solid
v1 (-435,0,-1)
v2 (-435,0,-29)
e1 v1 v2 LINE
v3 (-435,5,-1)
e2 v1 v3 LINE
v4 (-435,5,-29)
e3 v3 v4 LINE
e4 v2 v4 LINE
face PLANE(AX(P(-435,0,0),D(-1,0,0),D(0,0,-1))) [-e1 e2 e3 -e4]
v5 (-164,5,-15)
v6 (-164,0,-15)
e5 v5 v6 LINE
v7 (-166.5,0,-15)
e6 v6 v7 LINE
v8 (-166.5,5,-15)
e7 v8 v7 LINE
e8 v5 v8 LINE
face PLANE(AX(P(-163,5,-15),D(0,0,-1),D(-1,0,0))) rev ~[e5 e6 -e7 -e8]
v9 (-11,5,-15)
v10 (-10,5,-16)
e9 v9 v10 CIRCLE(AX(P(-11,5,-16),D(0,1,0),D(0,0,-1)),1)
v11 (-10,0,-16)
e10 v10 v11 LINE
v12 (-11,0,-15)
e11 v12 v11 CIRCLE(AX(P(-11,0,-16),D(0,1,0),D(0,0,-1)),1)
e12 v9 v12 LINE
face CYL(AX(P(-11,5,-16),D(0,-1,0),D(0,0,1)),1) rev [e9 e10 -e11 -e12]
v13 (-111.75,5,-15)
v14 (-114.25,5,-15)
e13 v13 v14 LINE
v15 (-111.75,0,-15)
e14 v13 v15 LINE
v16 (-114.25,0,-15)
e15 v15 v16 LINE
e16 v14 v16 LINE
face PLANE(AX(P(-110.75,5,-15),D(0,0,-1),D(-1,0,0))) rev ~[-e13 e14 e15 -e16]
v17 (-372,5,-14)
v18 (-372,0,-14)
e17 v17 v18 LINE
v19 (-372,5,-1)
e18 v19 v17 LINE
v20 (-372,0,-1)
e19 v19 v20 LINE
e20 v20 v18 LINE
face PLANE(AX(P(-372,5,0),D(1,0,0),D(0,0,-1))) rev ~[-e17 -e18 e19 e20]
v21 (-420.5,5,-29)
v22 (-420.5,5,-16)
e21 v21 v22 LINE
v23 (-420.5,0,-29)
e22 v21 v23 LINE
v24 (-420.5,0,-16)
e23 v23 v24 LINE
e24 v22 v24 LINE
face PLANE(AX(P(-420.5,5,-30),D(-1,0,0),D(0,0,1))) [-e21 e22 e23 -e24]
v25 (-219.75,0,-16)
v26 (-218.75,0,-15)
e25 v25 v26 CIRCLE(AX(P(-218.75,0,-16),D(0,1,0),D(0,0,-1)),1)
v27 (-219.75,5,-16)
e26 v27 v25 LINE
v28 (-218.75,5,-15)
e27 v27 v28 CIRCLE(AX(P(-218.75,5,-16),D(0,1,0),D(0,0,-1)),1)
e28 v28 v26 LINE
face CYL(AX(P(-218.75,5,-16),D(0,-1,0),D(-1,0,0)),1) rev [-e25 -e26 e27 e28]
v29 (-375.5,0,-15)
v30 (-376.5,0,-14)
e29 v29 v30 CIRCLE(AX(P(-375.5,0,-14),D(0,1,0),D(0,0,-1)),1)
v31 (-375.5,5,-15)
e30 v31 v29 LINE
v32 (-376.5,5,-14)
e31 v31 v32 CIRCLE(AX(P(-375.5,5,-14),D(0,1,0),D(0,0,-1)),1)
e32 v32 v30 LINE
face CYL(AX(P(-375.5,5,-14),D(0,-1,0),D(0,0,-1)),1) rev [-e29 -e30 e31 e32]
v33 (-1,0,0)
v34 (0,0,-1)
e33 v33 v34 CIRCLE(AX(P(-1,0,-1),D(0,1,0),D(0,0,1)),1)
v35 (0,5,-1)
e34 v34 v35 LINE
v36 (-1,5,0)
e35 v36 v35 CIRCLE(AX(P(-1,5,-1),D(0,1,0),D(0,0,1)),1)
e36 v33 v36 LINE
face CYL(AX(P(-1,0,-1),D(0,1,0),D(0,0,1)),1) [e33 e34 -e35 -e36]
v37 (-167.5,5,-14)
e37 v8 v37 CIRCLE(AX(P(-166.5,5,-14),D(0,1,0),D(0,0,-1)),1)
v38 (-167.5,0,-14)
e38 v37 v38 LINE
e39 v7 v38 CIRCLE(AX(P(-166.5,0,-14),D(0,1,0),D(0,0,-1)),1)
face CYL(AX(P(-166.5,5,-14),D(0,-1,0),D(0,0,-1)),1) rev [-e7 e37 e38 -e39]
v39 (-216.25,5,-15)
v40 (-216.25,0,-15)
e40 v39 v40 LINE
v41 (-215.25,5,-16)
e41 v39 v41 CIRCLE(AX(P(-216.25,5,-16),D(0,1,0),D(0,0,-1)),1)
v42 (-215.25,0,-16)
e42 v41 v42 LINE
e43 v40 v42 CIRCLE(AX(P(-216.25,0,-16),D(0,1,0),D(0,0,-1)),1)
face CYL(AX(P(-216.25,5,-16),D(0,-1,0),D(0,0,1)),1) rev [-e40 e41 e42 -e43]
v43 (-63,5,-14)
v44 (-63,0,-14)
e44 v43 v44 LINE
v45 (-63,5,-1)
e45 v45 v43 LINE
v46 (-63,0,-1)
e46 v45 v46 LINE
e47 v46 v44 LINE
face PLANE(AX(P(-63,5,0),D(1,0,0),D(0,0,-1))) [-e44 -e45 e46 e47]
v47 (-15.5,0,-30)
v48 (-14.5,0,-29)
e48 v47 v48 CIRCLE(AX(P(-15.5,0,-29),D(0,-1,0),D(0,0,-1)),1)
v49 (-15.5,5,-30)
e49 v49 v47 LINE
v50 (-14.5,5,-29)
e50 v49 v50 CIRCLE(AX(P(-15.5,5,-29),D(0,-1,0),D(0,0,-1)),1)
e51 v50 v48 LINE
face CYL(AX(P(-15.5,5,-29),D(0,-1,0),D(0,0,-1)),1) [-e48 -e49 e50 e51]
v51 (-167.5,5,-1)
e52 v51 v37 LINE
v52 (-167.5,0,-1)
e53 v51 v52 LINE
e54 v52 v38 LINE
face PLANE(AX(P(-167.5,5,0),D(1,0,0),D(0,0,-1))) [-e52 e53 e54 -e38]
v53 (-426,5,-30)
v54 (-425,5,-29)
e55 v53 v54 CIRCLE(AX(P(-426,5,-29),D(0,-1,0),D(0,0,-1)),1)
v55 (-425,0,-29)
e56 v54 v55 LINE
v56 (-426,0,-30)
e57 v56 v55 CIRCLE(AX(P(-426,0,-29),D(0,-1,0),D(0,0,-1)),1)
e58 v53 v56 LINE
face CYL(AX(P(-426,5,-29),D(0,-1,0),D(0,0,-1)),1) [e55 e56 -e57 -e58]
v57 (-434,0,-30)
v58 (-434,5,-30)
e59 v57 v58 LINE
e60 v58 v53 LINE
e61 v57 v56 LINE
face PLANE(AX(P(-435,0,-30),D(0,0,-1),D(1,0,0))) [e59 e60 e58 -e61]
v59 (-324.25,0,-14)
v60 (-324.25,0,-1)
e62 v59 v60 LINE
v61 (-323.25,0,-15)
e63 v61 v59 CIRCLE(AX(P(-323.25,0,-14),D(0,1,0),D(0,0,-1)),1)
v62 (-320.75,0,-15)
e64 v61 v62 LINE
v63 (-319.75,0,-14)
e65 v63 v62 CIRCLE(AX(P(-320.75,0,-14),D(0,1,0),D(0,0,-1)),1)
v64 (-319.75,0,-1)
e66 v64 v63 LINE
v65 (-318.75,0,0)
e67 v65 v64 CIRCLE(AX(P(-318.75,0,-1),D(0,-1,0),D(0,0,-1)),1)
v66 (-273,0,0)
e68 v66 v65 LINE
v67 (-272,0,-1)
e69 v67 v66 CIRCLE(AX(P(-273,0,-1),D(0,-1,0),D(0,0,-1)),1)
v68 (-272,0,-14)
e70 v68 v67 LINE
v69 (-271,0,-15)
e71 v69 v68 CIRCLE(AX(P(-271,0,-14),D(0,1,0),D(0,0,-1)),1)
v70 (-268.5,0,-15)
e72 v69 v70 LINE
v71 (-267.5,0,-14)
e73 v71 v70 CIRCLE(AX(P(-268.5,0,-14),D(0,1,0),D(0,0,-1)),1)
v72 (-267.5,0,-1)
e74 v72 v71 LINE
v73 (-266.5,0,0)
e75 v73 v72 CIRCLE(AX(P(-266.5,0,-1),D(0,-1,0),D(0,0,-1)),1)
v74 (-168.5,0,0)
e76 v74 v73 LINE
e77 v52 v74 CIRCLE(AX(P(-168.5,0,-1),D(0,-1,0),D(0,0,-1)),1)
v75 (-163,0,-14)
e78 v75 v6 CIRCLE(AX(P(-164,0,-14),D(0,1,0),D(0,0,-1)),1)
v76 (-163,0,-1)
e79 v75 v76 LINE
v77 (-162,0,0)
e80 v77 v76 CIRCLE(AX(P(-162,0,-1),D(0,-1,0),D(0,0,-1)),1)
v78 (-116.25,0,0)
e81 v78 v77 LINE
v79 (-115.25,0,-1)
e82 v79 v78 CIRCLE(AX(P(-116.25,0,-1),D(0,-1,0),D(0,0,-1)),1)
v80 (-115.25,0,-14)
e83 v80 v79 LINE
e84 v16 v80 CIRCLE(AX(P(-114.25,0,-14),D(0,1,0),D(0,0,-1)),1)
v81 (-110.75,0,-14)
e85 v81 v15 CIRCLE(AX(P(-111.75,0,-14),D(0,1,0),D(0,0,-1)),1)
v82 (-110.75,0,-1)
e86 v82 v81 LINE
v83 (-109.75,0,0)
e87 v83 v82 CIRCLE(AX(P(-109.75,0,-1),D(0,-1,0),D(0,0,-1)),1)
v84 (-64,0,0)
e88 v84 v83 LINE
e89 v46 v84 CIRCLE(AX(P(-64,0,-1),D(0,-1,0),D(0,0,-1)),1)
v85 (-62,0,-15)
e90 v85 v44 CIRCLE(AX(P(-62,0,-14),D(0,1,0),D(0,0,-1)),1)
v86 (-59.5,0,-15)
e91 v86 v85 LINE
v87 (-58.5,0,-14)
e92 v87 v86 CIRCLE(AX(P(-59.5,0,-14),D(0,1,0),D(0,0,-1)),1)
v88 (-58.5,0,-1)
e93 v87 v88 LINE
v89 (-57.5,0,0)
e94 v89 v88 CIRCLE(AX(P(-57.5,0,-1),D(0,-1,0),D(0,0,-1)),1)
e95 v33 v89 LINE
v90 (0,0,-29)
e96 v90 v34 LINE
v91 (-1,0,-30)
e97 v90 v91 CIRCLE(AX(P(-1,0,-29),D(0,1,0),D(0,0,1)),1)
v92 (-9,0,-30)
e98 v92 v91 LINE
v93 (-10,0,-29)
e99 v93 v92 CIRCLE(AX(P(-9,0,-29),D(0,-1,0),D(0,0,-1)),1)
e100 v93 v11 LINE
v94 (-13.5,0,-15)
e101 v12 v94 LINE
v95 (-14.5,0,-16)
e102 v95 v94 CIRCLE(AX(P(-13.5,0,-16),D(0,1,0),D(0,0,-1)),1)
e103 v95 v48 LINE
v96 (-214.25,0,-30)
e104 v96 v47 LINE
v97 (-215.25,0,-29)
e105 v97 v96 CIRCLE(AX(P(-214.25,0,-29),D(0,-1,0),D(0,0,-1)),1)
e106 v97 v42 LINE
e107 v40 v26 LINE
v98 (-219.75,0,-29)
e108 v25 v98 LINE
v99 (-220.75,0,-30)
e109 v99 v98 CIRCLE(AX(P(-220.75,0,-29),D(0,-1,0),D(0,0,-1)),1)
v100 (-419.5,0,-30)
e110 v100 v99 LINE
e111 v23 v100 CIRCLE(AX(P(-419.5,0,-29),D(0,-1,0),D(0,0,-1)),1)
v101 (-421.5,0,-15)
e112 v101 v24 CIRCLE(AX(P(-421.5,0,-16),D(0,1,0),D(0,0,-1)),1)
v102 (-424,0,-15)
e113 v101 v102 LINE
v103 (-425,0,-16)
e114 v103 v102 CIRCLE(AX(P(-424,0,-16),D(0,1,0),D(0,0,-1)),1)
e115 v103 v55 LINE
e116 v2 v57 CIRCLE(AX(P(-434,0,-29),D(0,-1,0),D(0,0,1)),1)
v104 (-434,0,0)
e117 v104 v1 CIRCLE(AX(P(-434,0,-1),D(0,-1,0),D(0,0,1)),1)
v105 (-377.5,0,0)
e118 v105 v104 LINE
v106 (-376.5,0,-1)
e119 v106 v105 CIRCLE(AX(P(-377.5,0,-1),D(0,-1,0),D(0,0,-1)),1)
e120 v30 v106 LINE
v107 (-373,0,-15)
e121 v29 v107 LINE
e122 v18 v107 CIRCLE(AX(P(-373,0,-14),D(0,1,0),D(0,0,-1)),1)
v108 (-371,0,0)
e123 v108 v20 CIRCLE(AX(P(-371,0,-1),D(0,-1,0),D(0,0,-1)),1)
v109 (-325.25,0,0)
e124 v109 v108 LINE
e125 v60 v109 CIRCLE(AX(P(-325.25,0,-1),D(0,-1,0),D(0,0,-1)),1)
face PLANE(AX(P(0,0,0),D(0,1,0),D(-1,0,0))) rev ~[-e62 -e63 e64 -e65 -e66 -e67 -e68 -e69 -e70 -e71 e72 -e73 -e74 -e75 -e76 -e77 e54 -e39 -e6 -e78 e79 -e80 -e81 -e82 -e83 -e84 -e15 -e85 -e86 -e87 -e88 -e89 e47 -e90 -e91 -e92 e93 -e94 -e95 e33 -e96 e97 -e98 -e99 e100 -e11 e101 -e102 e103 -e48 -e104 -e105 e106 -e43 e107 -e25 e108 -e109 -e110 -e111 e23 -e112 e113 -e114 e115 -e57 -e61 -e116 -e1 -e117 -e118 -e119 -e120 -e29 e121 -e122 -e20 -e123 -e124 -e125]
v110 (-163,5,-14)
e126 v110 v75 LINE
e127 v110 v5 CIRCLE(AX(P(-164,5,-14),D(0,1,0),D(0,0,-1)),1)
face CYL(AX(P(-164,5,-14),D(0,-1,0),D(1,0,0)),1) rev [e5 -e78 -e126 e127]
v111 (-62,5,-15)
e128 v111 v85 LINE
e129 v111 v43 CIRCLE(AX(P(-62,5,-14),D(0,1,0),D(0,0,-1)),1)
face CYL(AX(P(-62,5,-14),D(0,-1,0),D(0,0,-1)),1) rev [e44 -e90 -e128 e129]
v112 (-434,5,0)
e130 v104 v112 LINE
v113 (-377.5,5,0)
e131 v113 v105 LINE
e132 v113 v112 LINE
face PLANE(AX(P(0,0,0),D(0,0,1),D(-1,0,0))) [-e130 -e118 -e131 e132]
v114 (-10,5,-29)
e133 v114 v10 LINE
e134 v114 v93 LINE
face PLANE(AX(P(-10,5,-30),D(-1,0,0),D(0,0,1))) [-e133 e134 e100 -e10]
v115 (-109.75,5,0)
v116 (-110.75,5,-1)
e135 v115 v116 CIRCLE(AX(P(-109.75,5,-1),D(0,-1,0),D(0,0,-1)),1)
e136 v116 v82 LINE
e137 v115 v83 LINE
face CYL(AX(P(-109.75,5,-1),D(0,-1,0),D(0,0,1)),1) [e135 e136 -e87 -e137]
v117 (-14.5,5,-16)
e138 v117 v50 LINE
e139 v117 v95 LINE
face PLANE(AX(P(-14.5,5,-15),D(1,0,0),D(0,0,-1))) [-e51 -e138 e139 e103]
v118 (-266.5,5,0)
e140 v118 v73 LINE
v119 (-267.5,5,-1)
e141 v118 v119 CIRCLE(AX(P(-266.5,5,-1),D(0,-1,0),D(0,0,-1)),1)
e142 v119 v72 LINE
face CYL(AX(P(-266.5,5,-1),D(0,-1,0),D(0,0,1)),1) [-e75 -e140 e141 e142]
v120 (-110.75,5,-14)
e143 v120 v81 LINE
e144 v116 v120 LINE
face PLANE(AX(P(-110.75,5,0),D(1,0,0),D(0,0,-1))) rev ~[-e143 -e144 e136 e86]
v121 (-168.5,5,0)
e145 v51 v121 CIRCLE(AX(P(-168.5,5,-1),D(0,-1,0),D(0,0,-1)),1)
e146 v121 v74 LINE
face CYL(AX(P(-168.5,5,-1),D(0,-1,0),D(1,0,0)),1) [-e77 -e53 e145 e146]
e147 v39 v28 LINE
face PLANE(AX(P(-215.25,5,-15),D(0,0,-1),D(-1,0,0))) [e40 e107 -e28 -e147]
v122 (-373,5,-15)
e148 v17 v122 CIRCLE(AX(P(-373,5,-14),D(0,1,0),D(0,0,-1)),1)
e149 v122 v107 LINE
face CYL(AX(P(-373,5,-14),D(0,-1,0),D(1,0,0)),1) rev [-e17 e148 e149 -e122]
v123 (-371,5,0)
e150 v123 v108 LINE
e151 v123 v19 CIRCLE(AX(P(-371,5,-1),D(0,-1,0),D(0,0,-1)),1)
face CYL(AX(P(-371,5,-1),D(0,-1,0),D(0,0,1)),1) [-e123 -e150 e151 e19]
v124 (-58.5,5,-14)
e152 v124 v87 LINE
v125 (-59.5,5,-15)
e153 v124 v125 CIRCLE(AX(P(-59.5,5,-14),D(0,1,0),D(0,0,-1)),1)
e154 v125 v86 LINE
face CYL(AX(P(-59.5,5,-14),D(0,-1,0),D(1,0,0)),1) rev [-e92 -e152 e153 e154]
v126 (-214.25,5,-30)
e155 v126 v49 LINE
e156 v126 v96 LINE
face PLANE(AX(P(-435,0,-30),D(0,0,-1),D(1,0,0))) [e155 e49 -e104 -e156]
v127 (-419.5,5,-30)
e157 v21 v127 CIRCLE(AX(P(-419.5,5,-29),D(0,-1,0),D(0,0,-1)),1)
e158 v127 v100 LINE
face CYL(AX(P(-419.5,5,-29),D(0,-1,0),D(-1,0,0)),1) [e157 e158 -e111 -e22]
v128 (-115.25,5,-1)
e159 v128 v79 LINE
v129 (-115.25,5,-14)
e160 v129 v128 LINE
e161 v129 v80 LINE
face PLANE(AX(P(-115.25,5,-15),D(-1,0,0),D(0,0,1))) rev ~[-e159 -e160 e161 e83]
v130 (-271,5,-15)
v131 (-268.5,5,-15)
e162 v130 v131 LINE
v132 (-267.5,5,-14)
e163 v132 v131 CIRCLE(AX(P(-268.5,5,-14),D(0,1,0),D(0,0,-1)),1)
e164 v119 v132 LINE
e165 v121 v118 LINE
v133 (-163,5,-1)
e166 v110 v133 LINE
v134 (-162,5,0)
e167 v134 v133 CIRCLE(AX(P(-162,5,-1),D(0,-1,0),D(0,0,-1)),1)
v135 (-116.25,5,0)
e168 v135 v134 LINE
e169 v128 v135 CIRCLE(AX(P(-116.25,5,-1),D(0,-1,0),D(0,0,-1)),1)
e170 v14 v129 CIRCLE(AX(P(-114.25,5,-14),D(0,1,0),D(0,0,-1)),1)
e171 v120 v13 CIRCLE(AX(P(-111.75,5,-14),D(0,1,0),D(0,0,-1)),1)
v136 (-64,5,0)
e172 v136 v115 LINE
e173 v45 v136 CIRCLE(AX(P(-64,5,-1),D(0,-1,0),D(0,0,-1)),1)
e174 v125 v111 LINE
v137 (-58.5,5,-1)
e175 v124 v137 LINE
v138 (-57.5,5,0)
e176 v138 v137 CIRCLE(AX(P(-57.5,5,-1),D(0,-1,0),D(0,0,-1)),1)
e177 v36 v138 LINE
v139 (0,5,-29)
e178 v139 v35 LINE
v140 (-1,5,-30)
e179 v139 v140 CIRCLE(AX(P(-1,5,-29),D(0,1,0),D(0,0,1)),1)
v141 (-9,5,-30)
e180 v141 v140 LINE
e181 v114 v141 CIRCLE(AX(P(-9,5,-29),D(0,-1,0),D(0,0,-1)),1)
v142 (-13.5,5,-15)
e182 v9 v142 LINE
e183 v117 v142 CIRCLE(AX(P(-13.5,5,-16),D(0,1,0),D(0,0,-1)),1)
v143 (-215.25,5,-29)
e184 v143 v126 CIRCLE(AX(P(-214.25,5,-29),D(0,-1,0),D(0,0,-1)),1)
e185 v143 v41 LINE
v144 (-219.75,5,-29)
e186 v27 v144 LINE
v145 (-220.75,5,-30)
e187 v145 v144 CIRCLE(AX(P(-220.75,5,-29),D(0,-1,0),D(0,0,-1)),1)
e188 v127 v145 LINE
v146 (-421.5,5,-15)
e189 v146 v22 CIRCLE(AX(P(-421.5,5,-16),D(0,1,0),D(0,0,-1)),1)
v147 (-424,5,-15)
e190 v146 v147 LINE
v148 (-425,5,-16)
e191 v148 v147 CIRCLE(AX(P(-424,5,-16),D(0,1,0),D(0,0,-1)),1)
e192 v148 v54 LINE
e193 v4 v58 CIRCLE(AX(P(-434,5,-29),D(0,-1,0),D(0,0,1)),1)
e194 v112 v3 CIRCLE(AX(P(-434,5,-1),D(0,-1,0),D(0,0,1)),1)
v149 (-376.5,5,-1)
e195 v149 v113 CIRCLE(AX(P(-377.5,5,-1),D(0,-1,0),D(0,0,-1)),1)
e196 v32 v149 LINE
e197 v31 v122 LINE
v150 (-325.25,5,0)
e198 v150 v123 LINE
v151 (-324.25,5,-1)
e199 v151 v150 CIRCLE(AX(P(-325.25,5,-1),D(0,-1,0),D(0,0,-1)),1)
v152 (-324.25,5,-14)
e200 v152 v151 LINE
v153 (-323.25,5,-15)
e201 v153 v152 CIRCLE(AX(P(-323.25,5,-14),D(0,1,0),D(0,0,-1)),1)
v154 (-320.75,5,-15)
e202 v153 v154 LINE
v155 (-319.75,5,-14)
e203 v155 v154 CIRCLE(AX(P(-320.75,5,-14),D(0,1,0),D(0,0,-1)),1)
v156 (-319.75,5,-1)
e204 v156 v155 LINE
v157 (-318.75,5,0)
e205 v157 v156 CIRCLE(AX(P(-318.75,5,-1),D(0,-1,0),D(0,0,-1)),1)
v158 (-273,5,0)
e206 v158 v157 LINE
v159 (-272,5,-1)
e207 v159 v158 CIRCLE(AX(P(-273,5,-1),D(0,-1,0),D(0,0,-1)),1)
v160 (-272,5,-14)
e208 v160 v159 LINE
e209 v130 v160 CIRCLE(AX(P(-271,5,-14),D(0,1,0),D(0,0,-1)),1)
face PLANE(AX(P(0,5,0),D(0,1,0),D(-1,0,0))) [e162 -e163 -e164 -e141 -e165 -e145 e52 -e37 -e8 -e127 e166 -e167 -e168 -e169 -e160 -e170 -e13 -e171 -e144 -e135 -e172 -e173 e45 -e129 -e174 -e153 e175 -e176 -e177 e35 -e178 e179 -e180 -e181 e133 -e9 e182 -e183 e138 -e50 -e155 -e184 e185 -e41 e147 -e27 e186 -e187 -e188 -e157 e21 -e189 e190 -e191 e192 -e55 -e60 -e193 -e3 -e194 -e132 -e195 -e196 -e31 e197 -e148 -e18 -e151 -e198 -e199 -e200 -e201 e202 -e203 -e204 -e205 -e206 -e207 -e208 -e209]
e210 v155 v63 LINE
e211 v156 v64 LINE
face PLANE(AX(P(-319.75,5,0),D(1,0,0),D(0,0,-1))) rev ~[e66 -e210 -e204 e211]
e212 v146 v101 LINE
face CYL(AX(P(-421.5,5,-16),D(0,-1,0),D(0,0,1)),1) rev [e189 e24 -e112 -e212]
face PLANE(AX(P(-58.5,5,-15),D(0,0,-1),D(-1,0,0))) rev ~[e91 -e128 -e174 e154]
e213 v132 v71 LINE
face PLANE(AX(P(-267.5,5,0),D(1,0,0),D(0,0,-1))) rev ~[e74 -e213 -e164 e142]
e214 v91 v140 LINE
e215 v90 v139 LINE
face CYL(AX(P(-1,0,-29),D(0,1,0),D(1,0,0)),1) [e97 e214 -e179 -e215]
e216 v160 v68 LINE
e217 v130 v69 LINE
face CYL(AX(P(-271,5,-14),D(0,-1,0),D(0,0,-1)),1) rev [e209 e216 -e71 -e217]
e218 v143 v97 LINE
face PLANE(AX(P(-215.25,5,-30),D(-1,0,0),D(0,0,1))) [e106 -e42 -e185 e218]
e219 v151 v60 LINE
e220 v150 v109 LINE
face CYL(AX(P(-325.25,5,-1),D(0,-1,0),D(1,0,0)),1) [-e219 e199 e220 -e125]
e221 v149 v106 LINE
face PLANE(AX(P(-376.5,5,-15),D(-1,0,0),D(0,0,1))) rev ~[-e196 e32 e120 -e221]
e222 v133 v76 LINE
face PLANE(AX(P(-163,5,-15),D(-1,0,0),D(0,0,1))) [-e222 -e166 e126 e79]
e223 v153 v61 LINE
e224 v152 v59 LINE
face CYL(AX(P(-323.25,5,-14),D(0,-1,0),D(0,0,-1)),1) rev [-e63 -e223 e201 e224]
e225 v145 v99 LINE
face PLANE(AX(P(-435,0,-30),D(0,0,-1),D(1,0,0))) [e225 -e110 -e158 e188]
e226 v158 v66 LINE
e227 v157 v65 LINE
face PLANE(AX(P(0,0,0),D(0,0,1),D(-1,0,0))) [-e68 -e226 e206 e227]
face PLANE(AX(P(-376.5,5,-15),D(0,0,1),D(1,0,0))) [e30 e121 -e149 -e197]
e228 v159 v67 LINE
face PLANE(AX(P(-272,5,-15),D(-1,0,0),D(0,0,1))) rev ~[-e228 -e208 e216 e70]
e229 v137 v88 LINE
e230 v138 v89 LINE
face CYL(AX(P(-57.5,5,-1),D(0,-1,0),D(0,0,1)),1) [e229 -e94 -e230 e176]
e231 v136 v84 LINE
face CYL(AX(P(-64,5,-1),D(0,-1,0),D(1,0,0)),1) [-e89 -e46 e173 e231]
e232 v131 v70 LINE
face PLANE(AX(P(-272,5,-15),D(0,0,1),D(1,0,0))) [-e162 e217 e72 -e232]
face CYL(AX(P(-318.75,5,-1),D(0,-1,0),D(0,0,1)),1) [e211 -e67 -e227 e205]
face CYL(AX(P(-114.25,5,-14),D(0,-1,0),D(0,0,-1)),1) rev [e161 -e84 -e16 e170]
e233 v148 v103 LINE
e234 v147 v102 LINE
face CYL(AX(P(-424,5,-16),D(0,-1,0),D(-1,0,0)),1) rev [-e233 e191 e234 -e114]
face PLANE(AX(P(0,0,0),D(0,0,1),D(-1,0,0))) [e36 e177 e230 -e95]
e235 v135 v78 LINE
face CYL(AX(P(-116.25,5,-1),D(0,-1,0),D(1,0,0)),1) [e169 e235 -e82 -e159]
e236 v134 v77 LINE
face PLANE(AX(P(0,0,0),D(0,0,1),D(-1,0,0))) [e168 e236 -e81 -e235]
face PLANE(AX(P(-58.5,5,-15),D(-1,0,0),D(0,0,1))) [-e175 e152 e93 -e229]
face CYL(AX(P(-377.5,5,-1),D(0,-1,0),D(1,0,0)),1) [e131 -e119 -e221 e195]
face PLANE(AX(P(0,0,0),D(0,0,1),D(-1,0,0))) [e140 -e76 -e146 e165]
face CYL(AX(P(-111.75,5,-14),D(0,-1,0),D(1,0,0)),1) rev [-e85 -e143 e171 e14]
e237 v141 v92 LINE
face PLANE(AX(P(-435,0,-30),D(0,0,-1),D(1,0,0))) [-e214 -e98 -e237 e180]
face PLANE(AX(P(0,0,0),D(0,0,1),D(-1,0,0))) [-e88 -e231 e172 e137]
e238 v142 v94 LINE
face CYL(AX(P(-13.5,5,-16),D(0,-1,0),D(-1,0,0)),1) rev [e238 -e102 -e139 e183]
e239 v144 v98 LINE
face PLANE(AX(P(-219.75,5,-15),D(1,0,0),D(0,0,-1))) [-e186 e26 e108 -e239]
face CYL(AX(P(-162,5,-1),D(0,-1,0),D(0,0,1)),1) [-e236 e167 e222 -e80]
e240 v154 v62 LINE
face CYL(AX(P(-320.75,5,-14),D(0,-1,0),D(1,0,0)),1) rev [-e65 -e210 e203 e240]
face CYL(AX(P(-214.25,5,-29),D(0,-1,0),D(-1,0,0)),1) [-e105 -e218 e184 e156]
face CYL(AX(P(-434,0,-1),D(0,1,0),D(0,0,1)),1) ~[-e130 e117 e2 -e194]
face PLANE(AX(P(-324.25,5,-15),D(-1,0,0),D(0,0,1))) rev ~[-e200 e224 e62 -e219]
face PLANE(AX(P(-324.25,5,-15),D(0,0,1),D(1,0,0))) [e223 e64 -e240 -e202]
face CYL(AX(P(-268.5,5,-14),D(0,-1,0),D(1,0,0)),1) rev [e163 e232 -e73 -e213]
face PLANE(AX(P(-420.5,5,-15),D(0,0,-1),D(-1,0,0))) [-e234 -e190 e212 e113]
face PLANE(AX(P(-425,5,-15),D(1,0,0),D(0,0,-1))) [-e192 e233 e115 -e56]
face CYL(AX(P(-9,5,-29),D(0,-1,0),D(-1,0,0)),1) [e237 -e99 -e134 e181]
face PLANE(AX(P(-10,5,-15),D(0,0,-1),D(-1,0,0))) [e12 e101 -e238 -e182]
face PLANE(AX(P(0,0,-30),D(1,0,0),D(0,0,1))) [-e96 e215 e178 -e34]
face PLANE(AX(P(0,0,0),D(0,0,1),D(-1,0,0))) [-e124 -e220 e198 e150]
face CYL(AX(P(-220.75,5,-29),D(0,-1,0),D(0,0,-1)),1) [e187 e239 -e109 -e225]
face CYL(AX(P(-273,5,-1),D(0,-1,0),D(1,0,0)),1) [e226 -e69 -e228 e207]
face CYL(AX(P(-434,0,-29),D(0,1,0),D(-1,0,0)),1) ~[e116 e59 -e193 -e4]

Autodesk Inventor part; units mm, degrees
ref_plane "YZ Plane" through (0, 0, 0) normal (1, 0, 0) x (0, 1, 0)
ref_plane "XZ Plane" through (0, 0, 0) normal (0, 1, 0) x (-1, 0, 0)
ref_plane "XY Plane" through (0, 0, 0) normal (0, 0, 1) x (1, 0, 0)
sketch "Sketch1" plane through (0, 0, 0) normal (0, 1, 0) x (-1, 0, 0)
  line L0 (0, 0) -> (435, 0)
  line L1 (435, 0) -> (435, -30)
  line L2 (435, -30) -> (0, -30)
  line L3 (0, -30) -> (0, 0)
  dimension "d0" = 435
  dimension "d1" = 30
extrude "Extrusion1" add sketch "Sketch1" along normal blind 5
sketch "Sketch2" plane through (0, 5, 0) normal (0, 1, 0) x (1, 0, 0)
  line L0 (0, 30) -> (-435, 30) projected
  line L1 (-435, 30) -> (-425, 30)
  line L2 (-425, 30) -> (-420.5, 30)
  line L3 (-420.5, 30) -> (-420.5, 15)
  line L4 (-420.5, 15) -> (-425, 15)
  line L5 (-425, 15) -> (-425, 30)
  line L6 (-420.5, 30) -> (-219.75, 30)
  line L7 (-219.75, 30) -> (-215.25, 30)
  line L8 (-215.25, 30) -> (-215.25, 15)
  line L9 (-215.25, 15) -> (-219.75, 15)
  line L10 (-219.75, 15) -> (-219.75, 30)
  line L11 (-215.25, 30) -> (-14.5, 30)
  line L12 (-14.5, 30) -> (-10, 30)
  line L13 (-10, 30) -> (-10, 15)
  line L14 (-10, 15) -> (-14.5, 15)
  line L15 (-14.5, 15) -> (-14.5, 30)
  point P0 (0, 0)
  dimension "d4" = 10
  dimension "d5" = 4.5
  dimension "d6" = 15
  dimension "d7" = 200.75
  dimension "d8" = 4.5
  dimension "d9" = 15
  dimension "d10" = 200.75
  dimension "d11" = 4.5
  dimension "d12" = 15
extrude "Extrusion2" cut sketch "Sketch2" against normal blind 5
sketch "Sketch6" plane through (0, 5, 0) normal (0, 1, 0) x (1, 0, 0)
  line L0 (-14.5, 30) -> (-14.5, 15) projected
  line L1 (-14.5, 15) -> (-58.5, 15)
  line L2 (-14.5, 30) -> (-215.25, 30) projected
  line L3 (-58.5, 15) -> (-63, 15)
  line L4 (-63, 15) -> (-63, 30)
  line L5 (-63, 30) -> (-58.5, 30)
  line L6 (-58.5, 30) -> (-58.5, 15)
  line L7 (-63, 15) -> (-110.75, 15)
  line L8 (-110.75, 15) -> (-115.25, 15)
  line L9 (-115.25, 15) -> (-115.25, 30)
  line L10 (-115.25, 30) -> (-110.75, 30)
  line L11 (-110.75, 30) -> (-110.75, 15)
  line L12 (-115.25, 15) -> (-163, 15)
  line L13 (-163, 15) -> (-167.5, 15)
  line L14 (-167.5, 15) -> (-167.5, 30)
  line L15 (-167.5, 30) -> (-163, 30)
  line L16 (-163, 30) -> (-163, 15)
  line L17 (-435, 0) -> (0, 0) projected
  line L18 (-217.5, 0) -> (-217.5, 47.2454)
  line L19 (-376.5, 15) -> (-372, 15)
  line L20 (-372, 15) -> (-372, 30)
  line L21 (-372, 30) -> (-376.5, 30)
  line L22 (-376.5, 30) -> (-376.5, 15)
  line L23 (-372, 15) -> (-324.25, 15)
  line L24 (-324.25, 15) -> (-319.75, 15)
  line L25 (-319.75, 15) -> (-319.75, 30)
  line L26 (-319.75, 30) -> (-324.25, 30)
  line L27 (-324.25, 30) -> (-324.25, 15)
  line L28 (-319.75, 15) -> (-272, 15)
  line L29 (-272, 15) -> (-267.5, 15)
  line L30 (-267.5, 15) -> (-267.5, 30)
  line L31 (-267.5, 30) -> (-272, 30)
  line L32 (-272, 30) -> (-272, 15)
  line L33 (-110.75, 15) -> (-115.25, 15)
  line L34 (-115.25, 15) -> (-115.25, 0)
  line L35 (-115.25, 0) -> (-110.75, 0)
  line L36 (-110.75, 0) -> (-110.75, 15)
  line L37 (-319.75, 15) -> (-324.25, 15)
  line L38 (-324.25, 15) -> (-324.25, 0)
  line L39 (-324.25, 0) -> (-319.75, 0)
  line L40 (-319.75, 0) -> (-319.75, 15)
  line L41 (-58.5, 0) -> (-63, 0)
  line L42 (-63, 0) -> (-63, 15)
  line L43 (-63, 15) -> (-58.5, 15)
  line L44 (-58.5, 15) -> (-58.5, 0)
  line L45 (-163, 0) -> (-167.5, 0)
  line L46 (-167.5, 0) -> (-167.5, 15)
  line L47 (-167.5, 15) -> (-163, 15)
  line L48 (-163, 15) -> (-163, 0)
  line L49 (-267.5, 15) -> (-272, 15)
  line L50 (-272, 15) -> (-272, 0)
  line L51 (-272, 0) -> (-267.5, 0)
  line L52 (-267.5, 0) -> (-267.5, 15)
  line L53 (-372, 15) -> (-376.5, 15)
  line L54 (-376.5, 15) -> (-376.5, 0)
  line L55 (-376.5, 0) -> (-372, 0)
  line L56 (-372, 0) -> (-372, 15)
  line L57 (-435, 30) -> (-435, 0) projected
  dimension "d40" = 44
  dimension "d41" = 4.5
  dimension "d42" = 47.75
  dimension "d43" = 4.5
  dimension "d44" = 47.75
  dimension "d45" = 4.5
  dimension "d48" = 15
  dimension "d49" = 4.5
  dimension "d50" = 106.75
  dimension "d51" = 58.5
  dimension "d52" = 54.5
extrude "Extrusion6" cut sketch "Sketch6" against normal blind 5 contours L17 L50 L29 L52 | L44 L17 L42 L3 | L36 L17 L34 L8 | L48 L17 L46 L13 | L17 L38 L24 L40 | L17 L54 L19 L56
fillet "Fillet2" radius 1 40 edges at (-324.25, 2.5, -15) (-319.75, 2.5, -15) (-372, 2.5, -15) (-376.5, 2.5, -15) (-425, 2.5, -15) (-420.5, 2.5, -15) (-267.5, 2.5, -15) (-272, 2.5, -15) (-215.25, 2.5, -15) (-219.75, 2.5, -15) (-167.5, 2.5, -15) (-163, 2.5, -15) (-115.25, 2.5, -15) (-110.75, 2.5, -15) (-63, 2.5, -15) (-58.5, 2.5, -15) (-14.5, 2.5, -15) (-10, 2.5, -15) (-58.5, 2.5, 0) (-63, 2.5, 0) (-110.75, 2.5, 0) (-115.25, 2.5, 0) (-163, 2.5, 0) (-167.5, 2.5, 0) (-215.25, 2.5, -30) (-219.75, 2.5, -30) (-267.5, 2.5, 0) (-272, 2.5, 0) (-319.75, 2.5, 0) (-324.25, 2.5, 0) (-372, 2.5, 0) (-376.5, 2.5, 0) (-435, 2.5, 0) (-435, 2.5, -30) (-425, 2.5, -30) (-420.5, 2.5, -30) (0, 2.5, 0) (-10, 2.5, -30) (-14.5, 2.5, -30) (0, 2.5, -30)
properties part number "slats_under" material "Foam Core Board"
